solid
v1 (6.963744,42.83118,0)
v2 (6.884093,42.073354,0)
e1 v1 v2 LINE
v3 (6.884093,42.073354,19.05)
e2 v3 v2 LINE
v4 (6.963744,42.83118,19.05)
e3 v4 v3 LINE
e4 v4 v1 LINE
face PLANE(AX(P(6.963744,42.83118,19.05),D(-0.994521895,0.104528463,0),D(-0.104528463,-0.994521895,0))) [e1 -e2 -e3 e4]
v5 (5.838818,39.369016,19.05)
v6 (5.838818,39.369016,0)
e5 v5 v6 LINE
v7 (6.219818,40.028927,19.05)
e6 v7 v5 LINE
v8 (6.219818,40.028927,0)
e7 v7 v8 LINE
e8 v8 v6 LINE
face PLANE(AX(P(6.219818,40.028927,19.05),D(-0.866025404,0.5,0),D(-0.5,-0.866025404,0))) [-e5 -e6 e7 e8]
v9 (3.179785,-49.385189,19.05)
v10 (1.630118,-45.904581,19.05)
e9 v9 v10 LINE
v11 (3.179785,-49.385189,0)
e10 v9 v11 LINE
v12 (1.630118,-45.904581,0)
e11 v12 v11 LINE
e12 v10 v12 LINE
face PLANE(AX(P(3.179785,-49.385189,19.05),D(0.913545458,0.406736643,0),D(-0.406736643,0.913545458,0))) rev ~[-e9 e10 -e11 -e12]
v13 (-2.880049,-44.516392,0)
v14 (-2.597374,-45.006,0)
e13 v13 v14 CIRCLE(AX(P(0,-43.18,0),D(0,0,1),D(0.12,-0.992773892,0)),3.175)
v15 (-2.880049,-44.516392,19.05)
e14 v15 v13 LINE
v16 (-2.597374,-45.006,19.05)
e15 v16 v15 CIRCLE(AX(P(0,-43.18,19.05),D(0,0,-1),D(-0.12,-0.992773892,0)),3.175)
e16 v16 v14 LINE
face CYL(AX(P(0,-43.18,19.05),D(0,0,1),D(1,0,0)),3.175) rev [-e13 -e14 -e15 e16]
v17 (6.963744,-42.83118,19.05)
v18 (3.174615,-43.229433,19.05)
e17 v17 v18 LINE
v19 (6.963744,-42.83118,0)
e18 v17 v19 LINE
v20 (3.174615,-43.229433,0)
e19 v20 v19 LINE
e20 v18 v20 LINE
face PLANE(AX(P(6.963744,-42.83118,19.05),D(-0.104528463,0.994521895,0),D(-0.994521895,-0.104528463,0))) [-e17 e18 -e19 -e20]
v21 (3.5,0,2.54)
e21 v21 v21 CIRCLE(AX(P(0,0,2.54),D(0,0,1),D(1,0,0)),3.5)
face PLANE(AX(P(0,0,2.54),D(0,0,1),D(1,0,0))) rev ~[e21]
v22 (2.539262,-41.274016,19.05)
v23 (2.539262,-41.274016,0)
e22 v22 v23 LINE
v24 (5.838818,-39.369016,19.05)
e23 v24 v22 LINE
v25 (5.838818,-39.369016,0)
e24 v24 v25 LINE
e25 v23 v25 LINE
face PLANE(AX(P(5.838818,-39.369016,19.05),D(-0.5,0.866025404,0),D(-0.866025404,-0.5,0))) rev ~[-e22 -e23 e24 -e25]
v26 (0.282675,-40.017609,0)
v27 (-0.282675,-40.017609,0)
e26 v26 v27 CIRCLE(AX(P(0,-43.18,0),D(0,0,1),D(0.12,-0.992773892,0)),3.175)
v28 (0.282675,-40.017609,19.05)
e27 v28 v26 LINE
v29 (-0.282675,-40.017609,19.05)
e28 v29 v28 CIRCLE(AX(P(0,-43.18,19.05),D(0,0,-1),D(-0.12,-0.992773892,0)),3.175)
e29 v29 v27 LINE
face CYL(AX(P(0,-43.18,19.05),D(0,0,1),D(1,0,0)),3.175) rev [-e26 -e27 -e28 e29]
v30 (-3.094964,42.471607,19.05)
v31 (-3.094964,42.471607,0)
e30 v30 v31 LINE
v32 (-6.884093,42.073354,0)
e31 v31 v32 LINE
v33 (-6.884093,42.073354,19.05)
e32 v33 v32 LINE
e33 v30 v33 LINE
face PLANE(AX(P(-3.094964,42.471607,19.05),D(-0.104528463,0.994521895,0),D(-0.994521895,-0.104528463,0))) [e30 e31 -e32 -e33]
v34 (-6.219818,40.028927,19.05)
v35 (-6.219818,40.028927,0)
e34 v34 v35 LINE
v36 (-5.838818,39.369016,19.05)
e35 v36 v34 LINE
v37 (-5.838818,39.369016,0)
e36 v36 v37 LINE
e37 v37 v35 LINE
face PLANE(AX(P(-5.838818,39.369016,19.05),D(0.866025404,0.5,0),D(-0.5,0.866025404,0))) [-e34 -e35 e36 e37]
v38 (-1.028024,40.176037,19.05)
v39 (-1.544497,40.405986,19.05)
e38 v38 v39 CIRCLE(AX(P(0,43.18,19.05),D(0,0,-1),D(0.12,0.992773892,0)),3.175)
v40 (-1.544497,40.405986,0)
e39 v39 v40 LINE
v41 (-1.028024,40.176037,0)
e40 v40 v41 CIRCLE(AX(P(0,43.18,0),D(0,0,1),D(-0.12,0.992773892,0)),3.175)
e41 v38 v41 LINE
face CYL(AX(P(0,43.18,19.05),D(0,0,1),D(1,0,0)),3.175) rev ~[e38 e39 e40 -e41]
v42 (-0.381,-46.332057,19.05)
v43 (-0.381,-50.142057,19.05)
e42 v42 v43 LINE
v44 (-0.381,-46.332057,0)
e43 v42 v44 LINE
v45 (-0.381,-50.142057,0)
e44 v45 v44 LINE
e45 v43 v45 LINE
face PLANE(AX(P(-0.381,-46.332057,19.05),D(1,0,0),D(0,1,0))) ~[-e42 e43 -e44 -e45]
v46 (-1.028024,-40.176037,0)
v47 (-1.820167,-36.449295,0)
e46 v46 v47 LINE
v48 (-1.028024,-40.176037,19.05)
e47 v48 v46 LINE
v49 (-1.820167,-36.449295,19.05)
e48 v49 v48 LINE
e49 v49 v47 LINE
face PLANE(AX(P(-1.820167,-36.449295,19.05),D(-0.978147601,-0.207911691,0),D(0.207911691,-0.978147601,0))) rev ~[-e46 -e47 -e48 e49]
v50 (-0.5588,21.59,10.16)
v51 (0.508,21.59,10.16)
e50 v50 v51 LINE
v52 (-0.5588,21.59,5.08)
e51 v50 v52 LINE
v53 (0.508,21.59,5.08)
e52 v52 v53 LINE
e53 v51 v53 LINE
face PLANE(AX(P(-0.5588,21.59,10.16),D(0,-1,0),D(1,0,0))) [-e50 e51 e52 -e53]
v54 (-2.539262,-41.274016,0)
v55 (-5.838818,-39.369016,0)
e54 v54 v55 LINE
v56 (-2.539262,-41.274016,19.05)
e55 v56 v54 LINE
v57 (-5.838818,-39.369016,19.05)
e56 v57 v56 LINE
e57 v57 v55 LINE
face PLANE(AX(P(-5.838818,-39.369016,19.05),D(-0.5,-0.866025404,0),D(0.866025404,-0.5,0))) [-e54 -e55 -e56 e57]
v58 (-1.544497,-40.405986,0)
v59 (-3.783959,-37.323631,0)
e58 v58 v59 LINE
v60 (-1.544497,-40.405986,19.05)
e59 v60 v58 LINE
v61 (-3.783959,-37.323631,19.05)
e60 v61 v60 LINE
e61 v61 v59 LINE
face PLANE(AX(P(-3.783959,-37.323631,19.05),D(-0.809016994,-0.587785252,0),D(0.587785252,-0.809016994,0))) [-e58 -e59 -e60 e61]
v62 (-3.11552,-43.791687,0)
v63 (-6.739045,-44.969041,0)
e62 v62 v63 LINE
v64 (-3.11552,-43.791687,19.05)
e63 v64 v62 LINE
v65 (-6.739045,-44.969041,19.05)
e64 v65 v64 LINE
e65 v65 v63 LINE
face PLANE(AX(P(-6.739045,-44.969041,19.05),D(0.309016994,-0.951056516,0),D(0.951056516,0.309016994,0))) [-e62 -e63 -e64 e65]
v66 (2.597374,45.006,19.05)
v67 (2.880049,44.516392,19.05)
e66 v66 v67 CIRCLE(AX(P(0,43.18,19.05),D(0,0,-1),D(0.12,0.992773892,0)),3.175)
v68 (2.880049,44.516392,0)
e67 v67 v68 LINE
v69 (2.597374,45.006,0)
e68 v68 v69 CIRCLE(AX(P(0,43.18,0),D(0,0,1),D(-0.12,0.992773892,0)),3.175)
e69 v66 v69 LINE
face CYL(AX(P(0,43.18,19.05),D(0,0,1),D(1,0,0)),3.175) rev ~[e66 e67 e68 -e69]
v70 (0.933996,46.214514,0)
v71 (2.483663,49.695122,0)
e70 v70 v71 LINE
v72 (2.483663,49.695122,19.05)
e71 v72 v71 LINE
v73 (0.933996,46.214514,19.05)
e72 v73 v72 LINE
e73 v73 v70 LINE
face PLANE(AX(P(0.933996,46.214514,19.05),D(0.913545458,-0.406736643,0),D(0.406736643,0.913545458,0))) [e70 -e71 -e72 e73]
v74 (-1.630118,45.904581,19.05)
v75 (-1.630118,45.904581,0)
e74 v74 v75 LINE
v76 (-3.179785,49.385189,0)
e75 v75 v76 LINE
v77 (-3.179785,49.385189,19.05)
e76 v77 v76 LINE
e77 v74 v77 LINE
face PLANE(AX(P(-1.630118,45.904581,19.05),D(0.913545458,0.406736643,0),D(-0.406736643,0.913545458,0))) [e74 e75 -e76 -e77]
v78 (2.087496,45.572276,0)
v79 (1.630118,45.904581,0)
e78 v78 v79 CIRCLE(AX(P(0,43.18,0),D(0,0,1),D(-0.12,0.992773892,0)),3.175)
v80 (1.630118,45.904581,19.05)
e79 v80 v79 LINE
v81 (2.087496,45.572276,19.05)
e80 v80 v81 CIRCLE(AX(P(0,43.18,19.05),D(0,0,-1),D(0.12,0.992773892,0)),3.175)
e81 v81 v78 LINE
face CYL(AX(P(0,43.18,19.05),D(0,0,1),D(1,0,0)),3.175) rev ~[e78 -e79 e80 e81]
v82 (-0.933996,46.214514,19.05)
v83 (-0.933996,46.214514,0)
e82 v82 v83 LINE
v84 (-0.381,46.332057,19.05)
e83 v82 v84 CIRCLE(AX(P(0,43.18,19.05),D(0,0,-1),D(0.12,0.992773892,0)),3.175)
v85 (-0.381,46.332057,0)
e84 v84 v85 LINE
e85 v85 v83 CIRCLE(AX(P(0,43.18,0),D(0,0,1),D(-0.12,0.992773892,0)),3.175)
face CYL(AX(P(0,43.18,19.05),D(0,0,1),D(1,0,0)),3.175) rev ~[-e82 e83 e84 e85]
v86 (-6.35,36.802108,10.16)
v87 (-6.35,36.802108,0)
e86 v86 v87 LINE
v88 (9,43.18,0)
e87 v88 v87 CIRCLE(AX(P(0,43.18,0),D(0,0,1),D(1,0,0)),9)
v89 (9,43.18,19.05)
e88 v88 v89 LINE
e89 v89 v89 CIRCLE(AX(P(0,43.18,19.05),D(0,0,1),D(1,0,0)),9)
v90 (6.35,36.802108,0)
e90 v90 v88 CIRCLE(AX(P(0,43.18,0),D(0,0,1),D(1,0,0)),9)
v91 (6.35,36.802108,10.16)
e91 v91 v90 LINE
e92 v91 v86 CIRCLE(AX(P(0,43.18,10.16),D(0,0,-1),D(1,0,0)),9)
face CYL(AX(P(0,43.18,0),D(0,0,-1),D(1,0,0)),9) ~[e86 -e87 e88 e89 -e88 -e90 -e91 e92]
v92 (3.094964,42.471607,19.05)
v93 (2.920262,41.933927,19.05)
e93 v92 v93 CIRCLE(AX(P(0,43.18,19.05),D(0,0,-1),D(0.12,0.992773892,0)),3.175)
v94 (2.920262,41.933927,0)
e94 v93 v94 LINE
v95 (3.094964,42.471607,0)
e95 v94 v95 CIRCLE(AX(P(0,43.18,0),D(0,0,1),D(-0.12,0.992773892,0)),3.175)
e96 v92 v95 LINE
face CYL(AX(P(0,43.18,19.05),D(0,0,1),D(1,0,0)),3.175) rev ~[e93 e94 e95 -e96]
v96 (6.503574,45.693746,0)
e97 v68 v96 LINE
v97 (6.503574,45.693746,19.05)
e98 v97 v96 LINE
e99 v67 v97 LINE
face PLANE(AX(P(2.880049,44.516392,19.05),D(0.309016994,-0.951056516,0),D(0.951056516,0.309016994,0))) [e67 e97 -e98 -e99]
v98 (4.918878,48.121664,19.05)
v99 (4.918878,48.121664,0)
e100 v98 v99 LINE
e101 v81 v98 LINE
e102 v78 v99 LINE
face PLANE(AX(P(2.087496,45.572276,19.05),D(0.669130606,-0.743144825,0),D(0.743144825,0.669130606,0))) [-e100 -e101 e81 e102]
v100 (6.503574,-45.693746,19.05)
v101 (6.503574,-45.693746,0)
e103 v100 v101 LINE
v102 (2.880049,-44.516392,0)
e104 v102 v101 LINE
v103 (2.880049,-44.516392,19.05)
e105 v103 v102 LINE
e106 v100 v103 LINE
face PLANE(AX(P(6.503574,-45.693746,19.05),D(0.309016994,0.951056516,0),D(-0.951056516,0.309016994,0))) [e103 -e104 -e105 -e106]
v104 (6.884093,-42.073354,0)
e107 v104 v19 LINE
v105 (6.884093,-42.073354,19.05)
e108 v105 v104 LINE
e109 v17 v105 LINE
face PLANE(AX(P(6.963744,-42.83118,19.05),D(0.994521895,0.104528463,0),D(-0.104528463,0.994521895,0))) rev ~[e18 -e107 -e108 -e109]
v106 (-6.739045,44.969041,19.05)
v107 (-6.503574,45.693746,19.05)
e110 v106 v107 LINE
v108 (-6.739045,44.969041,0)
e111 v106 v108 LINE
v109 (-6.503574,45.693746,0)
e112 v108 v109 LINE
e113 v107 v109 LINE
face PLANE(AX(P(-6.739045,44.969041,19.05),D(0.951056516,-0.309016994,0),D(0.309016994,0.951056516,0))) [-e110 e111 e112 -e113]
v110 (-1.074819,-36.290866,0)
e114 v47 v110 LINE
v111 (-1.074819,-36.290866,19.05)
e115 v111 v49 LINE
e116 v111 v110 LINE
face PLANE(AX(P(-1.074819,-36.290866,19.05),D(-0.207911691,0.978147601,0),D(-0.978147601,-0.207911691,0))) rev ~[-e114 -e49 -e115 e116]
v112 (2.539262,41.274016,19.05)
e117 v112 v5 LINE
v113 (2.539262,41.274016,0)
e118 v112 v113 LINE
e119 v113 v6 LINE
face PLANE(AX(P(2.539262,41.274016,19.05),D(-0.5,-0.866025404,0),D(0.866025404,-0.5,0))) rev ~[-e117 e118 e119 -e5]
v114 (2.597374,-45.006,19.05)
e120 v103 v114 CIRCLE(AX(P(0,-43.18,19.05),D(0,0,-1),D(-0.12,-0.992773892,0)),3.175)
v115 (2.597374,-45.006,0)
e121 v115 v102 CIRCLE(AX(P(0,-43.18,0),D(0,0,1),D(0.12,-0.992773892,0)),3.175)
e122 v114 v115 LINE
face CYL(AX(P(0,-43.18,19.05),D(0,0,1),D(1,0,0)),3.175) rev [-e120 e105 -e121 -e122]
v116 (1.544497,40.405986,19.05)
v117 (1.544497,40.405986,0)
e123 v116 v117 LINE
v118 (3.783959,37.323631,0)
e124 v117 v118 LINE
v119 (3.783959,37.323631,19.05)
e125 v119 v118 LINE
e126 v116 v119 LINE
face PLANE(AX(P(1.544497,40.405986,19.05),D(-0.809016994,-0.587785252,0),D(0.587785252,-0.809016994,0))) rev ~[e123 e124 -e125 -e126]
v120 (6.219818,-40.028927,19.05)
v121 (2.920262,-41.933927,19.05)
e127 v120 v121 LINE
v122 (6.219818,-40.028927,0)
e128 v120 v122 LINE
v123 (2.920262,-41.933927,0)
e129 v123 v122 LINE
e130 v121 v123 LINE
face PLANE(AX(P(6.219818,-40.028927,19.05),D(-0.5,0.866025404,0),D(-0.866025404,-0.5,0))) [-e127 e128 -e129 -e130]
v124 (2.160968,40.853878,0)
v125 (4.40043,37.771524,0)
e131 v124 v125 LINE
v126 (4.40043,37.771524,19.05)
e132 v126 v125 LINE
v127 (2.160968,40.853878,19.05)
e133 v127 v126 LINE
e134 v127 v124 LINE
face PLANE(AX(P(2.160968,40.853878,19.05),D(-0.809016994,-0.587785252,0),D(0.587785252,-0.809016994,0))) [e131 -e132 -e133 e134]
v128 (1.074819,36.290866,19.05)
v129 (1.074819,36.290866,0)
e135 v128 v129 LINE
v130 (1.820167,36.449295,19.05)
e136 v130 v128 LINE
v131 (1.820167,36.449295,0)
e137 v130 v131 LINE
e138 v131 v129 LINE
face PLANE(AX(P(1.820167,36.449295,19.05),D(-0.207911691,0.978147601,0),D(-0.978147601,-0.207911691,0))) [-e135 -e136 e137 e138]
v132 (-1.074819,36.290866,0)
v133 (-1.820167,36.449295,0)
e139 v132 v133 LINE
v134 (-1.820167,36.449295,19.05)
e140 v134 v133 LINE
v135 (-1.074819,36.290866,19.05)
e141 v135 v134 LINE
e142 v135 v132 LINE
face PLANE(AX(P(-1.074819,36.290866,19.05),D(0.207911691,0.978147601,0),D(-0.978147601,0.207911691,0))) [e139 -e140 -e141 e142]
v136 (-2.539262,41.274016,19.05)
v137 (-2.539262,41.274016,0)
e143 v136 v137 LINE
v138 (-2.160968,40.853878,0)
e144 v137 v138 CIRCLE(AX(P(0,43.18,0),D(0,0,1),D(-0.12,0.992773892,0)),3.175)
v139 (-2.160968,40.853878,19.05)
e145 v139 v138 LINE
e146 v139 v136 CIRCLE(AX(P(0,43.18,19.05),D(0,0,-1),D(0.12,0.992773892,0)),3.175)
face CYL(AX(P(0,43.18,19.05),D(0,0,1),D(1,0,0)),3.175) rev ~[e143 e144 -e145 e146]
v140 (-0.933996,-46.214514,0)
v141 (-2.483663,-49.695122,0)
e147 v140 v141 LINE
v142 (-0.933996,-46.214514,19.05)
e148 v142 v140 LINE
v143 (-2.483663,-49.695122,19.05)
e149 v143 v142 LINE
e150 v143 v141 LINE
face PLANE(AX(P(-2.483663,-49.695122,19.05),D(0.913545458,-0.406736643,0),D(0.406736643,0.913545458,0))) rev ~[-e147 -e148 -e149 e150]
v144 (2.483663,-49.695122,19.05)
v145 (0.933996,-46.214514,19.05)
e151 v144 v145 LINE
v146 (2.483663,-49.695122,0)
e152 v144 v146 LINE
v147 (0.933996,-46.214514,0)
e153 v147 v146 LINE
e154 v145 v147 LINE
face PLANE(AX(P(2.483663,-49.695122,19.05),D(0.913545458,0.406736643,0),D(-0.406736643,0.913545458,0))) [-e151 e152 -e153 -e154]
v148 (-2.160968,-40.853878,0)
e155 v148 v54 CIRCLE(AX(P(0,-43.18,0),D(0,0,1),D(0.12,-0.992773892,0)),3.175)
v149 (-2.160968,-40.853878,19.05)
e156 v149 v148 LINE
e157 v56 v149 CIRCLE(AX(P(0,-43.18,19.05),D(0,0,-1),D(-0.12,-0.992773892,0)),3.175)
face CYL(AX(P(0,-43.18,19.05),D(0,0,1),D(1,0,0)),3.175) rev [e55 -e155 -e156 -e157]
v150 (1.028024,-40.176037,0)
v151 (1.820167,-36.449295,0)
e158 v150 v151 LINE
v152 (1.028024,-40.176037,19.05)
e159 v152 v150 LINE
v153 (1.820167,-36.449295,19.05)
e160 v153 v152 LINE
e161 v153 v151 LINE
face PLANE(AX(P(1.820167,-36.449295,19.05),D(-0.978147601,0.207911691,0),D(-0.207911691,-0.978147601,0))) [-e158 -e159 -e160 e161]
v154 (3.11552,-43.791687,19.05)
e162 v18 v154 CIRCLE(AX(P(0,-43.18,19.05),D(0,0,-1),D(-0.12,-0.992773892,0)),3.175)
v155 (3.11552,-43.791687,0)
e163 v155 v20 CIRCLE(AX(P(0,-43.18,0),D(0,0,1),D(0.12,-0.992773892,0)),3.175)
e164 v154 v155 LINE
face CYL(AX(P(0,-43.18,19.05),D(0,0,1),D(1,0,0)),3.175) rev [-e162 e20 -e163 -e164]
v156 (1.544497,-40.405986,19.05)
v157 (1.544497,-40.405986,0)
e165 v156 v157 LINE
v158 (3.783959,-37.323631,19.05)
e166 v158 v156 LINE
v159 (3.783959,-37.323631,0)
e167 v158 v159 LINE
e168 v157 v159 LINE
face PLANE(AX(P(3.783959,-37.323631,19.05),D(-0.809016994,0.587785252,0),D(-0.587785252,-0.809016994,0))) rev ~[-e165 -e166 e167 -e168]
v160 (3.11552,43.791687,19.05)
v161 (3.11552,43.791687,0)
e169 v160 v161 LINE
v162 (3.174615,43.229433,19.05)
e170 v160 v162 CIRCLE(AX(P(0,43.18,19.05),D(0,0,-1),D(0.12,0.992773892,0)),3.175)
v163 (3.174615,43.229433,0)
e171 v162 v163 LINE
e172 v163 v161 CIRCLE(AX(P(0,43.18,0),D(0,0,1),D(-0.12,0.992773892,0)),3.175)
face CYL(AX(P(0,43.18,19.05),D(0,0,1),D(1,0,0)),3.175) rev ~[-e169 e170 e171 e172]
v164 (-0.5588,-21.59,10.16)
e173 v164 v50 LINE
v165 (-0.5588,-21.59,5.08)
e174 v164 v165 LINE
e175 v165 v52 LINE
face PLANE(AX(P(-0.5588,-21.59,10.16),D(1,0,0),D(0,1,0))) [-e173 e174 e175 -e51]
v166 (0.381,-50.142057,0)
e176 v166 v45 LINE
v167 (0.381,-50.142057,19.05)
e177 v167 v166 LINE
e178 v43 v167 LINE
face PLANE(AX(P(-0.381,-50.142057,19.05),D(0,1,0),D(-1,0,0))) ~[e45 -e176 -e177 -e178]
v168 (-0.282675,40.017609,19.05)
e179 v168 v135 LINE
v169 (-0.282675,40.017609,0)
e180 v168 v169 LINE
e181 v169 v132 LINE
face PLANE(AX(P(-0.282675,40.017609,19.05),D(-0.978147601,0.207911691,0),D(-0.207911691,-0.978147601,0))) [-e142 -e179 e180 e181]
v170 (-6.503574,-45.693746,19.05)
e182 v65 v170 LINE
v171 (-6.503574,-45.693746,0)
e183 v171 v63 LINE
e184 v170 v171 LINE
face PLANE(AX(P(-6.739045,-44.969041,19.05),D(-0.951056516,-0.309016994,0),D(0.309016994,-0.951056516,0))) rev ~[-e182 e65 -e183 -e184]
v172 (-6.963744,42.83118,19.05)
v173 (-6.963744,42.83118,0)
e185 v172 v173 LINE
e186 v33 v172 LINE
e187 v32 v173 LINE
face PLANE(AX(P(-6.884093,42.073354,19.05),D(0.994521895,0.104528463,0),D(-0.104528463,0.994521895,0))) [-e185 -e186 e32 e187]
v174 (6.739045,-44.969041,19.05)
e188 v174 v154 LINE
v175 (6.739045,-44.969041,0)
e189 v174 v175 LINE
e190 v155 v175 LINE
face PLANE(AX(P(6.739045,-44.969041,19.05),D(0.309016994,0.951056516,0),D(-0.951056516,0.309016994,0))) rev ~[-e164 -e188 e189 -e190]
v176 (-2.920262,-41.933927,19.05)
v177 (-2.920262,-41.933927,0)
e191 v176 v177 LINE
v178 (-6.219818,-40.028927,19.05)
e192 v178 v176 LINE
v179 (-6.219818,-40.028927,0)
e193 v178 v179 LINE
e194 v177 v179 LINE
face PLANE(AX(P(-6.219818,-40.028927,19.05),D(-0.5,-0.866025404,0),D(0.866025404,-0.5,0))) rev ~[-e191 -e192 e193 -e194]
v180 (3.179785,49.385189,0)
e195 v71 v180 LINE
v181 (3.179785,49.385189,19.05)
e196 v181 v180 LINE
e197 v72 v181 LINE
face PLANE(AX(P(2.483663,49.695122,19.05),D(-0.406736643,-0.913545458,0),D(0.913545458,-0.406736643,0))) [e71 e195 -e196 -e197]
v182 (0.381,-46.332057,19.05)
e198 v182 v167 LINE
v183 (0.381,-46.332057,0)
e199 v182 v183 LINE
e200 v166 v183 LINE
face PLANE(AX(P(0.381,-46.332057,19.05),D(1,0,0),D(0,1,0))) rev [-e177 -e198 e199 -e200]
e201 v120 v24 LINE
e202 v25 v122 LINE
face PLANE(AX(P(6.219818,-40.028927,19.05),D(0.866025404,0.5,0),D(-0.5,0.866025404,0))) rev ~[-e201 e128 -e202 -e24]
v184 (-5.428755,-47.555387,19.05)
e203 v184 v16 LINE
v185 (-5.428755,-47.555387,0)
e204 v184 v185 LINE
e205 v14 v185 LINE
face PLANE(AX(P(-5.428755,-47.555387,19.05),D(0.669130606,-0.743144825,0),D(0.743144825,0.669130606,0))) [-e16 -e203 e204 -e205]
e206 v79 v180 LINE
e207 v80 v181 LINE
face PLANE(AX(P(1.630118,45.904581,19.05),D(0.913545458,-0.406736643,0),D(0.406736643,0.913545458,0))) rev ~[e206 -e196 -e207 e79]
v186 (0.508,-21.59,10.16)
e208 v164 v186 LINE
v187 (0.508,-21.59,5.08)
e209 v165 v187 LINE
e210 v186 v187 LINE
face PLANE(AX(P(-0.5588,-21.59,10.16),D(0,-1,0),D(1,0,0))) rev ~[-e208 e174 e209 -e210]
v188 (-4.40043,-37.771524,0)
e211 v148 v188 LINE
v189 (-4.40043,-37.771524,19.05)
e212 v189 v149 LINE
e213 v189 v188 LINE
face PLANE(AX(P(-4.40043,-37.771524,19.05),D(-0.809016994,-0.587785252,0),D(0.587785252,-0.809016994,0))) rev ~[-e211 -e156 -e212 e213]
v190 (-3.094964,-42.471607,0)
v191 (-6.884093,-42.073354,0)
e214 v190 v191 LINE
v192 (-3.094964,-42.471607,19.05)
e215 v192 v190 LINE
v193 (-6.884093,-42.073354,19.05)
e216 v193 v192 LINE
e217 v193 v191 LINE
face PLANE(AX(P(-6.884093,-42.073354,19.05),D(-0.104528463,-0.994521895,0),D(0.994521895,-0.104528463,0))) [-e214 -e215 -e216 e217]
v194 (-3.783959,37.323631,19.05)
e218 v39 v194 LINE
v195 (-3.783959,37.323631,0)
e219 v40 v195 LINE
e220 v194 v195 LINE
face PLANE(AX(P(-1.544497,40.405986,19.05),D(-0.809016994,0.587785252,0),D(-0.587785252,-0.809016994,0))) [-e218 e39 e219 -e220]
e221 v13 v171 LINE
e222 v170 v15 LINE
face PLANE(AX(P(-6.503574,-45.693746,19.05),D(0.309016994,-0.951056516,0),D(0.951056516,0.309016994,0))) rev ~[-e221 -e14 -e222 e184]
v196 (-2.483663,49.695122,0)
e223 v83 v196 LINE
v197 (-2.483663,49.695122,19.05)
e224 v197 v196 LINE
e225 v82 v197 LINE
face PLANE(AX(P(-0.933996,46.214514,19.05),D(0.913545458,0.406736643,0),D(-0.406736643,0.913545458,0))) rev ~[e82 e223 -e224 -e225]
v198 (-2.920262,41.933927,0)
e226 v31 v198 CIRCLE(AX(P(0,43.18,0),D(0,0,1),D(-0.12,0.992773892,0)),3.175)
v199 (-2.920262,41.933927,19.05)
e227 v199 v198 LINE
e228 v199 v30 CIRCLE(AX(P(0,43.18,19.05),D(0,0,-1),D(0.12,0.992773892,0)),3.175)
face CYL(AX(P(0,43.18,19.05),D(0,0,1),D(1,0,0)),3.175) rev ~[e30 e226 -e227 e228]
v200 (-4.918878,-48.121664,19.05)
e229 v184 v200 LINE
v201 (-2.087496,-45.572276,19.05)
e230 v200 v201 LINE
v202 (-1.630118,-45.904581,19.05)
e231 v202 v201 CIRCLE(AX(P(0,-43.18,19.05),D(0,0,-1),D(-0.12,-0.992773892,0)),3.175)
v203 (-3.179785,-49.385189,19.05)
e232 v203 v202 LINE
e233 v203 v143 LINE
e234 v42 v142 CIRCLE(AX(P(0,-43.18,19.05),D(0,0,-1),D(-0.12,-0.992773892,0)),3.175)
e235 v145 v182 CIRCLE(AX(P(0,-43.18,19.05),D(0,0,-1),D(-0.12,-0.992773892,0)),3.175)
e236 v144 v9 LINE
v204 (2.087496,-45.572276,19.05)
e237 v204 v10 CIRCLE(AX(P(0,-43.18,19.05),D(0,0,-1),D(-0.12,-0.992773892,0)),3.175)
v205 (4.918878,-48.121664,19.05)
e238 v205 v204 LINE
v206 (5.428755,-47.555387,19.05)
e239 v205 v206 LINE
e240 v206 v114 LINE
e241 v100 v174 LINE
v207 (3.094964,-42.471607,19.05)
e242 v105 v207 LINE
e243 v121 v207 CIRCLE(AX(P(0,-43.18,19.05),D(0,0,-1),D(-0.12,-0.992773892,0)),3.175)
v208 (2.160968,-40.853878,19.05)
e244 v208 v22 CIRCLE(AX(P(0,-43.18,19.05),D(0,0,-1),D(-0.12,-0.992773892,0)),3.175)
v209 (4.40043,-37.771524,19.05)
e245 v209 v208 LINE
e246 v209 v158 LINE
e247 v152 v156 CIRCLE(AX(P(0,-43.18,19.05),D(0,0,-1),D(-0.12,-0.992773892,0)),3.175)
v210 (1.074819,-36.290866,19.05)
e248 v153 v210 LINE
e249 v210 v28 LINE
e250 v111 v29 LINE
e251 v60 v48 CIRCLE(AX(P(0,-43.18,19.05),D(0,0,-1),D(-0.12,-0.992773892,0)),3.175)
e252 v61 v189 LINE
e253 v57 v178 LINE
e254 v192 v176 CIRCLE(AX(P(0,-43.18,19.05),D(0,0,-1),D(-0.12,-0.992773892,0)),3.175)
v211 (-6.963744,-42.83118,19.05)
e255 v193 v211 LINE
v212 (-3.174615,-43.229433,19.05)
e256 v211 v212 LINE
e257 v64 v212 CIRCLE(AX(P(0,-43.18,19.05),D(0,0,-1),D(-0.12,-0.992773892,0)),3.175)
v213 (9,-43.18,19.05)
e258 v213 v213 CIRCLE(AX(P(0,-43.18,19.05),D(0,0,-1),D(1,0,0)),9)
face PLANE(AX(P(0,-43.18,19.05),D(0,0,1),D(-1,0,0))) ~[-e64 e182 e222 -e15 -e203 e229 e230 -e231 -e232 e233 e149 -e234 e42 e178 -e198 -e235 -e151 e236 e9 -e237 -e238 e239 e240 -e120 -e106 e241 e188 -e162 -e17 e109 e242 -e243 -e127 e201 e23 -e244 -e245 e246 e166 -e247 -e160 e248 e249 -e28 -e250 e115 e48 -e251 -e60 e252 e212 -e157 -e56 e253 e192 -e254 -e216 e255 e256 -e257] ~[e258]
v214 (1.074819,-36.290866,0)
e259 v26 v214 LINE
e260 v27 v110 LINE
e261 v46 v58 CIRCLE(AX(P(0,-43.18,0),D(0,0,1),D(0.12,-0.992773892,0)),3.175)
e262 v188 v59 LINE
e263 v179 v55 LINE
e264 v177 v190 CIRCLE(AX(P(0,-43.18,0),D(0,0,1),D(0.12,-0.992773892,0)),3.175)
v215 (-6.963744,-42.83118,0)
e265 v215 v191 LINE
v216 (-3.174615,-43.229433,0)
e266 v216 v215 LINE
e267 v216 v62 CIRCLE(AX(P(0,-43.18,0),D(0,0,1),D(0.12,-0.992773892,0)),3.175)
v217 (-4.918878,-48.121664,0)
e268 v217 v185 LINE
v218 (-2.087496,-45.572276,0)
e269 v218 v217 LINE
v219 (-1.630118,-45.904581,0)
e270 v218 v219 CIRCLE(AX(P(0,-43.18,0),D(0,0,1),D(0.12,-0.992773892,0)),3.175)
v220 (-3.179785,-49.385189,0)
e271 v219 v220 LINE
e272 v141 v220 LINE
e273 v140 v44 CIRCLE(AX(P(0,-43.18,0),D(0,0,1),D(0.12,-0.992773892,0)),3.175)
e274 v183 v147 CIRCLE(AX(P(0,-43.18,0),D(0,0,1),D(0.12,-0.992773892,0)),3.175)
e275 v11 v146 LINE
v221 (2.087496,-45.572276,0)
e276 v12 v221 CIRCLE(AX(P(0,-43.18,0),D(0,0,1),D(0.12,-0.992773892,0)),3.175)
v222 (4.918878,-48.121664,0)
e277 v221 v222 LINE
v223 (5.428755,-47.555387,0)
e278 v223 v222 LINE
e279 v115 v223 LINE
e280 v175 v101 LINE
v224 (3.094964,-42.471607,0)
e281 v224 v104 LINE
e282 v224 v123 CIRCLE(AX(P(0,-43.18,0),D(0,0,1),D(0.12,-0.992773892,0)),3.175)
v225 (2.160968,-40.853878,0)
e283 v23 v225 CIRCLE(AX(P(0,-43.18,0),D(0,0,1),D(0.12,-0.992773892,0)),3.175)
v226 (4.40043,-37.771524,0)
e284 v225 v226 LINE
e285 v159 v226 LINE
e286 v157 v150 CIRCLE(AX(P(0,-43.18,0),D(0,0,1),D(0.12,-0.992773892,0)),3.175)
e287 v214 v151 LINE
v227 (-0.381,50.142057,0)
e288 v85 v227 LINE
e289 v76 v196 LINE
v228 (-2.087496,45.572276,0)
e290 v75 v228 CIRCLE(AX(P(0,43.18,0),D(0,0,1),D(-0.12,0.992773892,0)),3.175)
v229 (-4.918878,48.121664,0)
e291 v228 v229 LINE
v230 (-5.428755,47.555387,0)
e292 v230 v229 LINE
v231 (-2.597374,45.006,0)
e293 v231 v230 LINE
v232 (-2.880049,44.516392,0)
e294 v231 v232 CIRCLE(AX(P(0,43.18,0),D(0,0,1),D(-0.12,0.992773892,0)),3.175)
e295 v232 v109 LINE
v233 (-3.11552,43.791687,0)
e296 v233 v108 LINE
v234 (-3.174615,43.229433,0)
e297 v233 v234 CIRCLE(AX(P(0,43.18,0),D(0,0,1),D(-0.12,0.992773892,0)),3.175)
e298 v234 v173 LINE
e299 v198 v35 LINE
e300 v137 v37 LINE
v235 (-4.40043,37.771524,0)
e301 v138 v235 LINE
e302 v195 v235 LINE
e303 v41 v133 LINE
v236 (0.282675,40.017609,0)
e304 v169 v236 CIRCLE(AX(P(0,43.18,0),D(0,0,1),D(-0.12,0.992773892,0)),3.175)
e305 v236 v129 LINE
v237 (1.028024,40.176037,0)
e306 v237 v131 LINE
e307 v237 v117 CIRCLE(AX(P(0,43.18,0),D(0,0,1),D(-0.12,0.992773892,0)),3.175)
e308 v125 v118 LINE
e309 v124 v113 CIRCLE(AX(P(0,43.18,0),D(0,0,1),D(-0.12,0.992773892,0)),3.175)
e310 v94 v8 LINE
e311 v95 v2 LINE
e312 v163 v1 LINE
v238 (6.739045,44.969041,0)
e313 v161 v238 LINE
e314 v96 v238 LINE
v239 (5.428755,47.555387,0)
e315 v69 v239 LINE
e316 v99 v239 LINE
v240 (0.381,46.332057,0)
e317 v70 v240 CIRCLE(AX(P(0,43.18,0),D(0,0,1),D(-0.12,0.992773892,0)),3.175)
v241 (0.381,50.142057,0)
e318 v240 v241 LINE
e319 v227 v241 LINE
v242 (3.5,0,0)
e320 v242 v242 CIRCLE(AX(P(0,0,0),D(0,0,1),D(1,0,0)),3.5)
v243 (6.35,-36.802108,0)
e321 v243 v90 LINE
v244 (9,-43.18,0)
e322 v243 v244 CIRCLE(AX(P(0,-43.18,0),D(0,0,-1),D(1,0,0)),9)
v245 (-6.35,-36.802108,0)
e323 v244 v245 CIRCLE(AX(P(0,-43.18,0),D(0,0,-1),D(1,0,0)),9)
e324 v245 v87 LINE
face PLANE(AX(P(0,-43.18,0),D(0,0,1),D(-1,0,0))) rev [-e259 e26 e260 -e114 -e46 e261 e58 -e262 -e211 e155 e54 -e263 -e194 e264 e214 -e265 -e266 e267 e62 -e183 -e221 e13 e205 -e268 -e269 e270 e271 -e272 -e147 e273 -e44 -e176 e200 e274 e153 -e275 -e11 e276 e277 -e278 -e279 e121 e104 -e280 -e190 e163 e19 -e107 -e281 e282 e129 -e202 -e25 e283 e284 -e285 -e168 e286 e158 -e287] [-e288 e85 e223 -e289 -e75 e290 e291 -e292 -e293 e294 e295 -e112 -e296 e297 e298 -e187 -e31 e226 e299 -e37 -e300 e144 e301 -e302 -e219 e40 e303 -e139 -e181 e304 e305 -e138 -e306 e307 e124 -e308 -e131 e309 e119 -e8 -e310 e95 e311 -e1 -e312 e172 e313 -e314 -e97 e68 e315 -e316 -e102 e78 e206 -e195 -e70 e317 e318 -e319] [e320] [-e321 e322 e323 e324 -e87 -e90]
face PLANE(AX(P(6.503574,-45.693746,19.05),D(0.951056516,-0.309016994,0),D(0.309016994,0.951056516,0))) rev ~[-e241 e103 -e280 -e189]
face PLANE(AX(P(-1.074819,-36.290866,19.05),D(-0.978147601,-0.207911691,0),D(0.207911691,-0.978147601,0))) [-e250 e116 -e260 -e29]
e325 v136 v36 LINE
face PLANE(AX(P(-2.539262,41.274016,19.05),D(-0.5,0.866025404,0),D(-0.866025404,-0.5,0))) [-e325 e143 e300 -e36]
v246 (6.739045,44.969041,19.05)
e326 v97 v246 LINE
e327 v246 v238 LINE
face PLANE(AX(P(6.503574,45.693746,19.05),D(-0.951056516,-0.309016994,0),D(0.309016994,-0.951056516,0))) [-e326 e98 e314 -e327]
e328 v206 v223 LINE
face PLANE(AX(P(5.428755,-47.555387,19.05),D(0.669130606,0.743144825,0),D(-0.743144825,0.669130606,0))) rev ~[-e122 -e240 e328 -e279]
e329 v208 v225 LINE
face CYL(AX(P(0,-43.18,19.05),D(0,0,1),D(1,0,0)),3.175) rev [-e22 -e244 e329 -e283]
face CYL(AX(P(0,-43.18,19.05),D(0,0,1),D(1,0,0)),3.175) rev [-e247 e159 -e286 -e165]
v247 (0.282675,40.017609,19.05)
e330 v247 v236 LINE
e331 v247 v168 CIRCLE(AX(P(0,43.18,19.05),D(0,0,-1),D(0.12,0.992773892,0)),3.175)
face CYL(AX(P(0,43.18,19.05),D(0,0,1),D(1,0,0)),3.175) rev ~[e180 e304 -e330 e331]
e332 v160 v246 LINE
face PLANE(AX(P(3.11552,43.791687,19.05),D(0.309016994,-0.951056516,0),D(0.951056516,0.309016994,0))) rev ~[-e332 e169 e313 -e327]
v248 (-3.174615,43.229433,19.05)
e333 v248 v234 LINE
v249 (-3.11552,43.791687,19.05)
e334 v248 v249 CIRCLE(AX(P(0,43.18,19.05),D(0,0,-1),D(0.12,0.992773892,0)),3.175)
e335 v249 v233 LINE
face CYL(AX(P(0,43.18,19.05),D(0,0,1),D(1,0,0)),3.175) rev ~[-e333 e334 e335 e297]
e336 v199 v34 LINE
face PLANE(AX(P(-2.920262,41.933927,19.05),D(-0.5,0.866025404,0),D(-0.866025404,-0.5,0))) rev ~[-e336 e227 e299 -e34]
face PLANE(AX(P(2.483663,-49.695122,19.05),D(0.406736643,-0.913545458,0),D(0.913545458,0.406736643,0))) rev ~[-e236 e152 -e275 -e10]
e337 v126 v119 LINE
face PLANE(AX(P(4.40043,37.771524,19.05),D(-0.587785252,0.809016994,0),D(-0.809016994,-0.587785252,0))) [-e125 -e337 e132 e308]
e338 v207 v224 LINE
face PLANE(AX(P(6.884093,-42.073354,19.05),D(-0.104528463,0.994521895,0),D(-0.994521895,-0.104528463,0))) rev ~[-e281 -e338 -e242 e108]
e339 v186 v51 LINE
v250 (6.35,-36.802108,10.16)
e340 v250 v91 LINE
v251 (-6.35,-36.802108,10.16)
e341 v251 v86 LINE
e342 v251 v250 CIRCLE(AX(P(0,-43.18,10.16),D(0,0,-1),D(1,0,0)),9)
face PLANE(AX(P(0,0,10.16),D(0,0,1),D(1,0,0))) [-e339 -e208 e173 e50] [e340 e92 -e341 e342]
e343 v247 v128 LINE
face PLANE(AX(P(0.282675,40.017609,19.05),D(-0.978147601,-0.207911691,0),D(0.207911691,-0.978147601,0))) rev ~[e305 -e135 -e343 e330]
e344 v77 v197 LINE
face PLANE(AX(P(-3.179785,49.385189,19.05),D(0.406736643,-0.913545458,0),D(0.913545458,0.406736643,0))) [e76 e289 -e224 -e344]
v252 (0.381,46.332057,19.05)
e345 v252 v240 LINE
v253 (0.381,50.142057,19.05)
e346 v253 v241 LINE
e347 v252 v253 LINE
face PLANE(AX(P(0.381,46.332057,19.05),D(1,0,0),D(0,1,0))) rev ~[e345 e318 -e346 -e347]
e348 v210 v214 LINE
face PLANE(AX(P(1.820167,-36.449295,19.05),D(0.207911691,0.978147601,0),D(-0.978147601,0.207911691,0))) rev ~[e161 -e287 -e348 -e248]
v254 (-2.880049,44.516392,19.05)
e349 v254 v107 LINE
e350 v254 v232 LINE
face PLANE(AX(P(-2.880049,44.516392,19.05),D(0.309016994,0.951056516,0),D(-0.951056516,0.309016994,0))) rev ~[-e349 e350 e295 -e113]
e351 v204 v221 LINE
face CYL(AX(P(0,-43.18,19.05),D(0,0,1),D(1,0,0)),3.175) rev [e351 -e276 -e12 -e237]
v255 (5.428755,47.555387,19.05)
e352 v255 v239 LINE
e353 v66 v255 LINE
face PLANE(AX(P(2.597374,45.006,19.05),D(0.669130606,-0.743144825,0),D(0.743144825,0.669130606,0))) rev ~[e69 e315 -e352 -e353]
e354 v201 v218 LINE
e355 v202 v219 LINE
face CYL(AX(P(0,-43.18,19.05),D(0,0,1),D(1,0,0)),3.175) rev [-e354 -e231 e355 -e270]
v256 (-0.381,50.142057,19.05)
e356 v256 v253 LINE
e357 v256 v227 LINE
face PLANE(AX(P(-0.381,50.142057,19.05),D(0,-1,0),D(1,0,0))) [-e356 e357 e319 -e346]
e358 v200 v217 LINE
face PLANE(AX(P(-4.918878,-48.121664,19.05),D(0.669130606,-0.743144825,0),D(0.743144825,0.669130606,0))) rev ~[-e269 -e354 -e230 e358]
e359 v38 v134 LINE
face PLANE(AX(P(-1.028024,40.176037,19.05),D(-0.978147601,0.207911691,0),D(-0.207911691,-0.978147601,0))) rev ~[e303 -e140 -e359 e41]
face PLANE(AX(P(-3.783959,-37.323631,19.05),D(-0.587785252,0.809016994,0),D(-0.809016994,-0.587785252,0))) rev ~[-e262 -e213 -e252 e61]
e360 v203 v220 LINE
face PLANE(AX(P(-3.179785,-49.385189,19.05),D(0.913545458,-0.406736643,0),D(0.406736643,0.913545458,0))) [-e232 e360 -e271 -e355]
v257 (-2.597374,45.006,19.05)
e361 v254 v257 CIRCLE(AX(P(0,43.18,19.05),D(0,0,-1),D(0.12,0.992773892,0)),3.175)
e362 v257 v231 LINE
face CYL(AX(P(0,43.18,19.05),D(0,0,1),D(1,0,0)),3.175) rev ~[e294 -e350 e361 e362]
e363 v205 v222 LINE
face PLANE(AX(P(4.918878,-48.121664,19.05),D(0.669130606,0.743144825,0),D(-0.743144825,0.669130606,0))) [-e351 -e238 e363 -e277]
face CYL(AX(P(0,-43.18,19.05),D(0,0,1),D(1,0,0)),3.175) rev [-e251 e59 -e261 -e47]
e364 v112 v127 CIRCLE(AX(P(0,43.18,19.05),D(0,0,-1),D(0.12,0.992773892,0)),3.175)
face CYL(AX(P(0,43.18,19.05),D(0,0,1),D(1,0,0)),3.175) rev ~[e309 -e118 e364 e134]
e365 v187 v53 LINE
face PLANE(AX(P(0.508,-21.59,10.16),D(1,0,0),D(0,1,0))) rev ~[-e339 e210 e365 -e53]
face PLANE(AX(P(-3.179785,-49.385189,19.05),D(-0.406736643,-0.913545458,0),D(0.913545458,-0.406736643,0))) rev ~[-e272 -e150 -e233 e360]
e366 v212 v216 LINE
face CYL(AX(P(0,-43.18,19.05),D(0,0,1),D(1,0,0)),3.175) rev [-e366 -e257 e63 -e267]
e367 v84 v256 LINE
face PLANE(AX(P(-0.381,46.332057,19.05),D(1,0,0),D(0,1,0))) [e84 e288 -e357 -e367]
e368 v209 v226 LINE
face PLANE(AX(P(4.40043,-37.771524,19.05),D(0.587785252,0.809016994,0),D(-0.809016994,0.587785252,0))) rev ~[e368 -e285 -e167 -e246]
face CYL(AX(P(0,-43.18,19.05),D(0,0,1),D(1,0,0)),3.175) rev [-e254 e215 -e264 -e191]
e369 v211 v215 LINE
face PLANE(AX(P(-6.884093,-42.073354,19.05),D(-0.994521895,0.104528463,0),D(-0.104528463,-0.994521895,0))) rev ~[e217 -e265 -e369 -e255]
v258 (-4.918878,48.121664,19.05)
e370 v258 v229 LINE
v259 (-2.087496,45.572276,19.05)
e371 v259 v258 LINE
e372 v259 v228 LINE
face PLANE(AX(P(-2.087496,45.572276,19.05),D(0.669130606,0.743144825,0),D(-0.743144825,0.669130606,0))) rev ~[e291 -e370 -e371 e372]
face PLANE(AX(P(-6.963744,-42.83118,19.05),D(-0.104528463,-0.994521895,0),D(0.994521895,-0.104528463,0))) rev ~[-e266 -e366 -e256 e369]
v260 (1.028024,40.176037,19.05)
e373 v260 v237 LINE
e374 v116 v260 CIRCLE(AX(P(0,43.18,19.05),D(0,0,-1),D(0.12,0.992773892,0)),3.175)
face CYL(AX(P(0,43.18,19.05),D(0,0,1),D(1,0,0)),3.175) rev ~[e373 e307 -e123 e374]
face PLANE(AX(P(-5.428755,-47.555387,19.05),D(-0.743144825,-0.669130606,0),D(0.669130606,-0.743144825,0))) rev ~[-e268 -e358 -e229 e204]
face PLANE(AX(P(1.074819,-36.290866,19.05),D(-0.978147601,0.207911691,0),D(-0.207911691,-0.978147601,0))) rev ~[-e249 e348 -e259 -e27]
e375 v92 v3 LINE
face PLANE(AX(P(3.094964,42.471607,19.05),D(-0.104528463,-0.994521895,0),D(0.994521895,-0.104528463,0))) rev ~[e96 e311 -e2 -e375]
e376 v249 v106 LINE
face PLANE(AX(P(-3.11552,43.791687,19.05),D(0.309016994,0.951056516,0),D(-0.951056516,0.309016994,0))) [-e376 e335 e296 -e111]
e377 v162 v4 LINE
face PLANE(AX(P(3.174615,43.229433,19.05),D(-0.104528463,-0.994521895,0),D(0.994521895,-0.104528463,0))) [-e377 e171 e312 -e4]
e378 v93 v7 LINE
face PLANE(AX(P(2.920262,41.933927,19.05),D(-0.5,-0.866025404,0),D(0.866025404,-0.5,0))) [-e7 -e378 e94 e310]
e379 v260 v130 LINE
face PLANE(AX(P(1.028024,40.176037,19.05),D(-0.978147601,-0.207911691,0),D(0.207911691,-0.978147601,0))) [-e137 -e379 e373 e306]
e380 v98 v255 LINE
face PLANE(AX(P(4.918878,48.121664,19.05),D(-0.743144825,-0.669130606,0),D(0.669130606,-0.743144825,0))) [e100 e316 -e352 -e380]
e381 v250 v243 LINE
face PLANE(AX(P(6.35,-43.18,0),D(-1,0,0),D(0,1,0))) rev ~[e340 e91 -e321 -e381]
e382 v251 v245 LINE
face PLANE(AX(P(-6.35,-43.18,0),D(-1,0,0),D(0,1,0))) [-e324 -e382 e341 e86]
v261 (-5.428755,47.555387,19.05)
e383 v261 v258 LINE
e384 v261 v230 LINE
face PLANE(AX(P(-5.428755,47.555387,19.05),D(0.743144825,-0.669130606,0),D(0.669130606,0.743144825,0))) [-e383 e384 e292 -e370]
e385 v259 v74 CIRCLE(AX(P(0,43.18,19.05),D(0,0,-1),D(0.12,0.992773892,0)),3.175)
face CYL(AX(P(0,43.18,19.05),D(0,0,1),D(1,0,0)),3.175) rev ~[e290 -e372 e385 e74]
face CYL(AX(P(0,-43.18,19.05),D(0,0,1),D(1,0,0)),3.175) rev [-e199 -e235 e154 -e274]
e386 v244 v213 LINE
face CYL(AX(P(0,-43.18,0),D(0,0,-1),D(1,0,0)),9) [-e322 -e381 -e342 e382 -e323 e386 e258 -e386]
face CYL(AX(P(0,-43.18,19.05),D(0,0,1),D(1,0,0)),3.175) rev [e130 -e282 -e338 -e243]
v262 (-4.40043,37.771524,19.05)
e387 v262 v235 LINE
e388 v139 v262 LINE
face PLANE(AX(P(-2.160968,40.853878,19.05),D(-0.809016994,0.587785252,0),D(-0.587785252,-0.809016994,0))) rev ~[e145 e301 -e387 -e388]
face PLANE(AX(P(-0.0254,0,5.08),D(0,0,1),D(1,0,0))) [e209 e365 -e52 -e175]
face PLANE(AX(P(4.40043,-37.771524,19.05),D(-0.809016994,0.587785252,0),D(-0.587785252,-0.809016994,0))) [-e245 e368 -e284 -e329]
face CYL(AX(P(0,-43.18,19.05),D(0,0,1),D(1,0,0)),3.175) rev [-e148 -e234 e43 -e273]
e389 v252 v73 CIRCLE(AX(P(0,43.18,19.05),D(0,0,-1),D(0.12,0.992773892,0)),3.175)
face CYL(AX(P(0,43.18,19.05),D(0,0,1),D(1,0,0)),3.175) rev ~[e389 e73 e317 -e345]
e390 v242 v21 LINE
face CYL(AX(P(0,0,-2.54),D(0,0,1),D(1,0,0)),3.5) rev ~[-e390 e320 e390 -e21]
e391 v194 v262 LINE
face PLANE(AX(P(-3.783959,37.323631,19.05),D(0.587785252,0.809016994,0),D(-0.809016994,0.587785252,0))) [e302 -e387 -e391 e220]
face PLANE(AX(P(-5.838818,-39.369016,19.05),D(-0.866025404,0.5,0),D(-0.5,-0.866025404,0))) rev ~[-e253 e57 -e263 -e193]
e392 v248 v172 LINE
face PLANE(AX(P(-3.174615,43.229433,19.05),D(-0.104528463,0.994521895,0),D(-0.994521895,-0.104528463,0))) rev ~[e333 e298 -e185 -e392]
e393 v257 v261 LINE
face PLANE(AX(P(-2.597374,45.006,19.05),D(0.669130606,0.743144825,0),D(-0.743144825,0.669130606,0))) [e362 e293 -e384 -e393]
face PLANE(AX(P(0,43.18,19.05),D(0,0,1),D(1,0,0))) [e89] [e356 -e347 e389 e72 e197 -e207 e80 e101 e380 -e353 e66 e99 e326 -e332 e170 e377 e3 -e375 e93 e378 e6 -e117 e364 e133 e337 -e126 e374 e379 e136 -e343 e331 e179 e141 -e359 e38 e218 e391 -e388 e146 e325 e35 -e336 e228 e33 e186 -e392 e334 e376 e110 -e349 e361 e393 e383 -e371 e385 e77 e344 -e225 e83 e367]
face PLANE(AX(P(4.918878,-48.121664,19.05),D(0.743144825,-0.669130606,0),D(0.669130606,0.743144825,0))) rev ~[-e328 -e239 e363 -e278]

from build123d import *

# Parameters (mm, degrees)
SKETCH1_W                = 12.7
SKETCH1_H                = 86.36
BOSS_EXTRUDE1_DEPTH      = 10.16
SKETCH2_W                = 1.0668
SKETCH2_H                = 43.18
CUT_EXTRUDE1_DEPTH       = 5.08
BOSS_EXTRUDE3_START      = -10.16
SKETCH12_R               = 9
BOSS_EXTRUDE3_DEPTH      = 19.05
SKETCH13_R               = 3.175
CUT_EXTRUDE3_DEPTH       = 57.273038837
SKETCH15_W               = 0.762
SKETCH15_H               = 3.81
CUT_EXTRUDE4_DEPTH       = 57.273038837
CIRPATTERN1_COUNT        = 15
MIRROR2_COPY_1_SKETCH_W  = 0.762
MIRROR2_COPY_1_SKETCH_H  = 3.81
MIRROR2_COPY_1_DEPTH     = 57.273038837
MIRROR2_COPY_2_SKETCH_W  = 0.762
MIRROR2_COPY_2_SKETCH_H  = 3.81
MIRROR2_COPY_2_DEPTH     = 57.273038837
MIRROR2_COPY_3_SKETCH_W  = 0.762
MIRROR2_COPY_3_SKETCH_H  = 3.81
MIRROR2_COPY_3_DEPTH     = 57.273038837
MIRROR2_COPY_4_SKETCH_W  = 0.762
MIRROR2_COPY_4_SKETCH_H  = 3.81
MIRROR2_COPY_4_DEPTH     = 57.273038837
MIRROR2_COPY_5_SKETCH_W  = 0.762
MIRROR2_COPY_5_SKETCH_H  = 3.81
MIRROR2_COPY_5_DEPTH     = 57.273038837
MIRROR2_COPY_6_SKETCH_W  = 0.762
MIRROR2_COPY_6_SKETCH_H  = 3.81
MIRROR2_COPY_6_DEPTH     = 57.273038837
MIRROR2_COPY_7_SKETCH_W  = 0.762
MIRROR2_COPY_7_SKETCH_H  = 3.81
MIRROR2_COPY_7_DEPTH     = 57.273038837
MIRROR2_COPY_8_SKETCH_W  = 0.762
MIRROR2_COPY_8_SKETCH_H  = 3.81
MIRROR2_COPY_8_DEPTH     = 57.273038837
MIRROR2_COPY_9_SKETCH_W  = 0.762
MIRROR2_COPY_9_SKETCH_H  = 3.81
MIRROR2_COPY_9_DEPTH     = 57.273038837
MIRROR2_COPY_10_SKETCH_W = 0.762
MIRROR2_COPY_10_SKETCH_H = 3.81
MIRROR2_COPY_10_DEPTH    = 57.273038837
MIRROR2_COPY_11_SKETCH_W = 0.762
MIRROR2_COPY_11_SKETCH_H = 3.81
MIRROR2_COPY_11_DEPTH    = 57.273038837
MIRROR2_COPY_12_SKETCH_W = 0.762
MIRROR2_COPY_12_SKETCH_H = 3.81
MIRROR2_COPY_12_DEPTH    = 57.273038837
MIRROR2_COPY_13_SKETCH_W = 0.762
MIRROR2_COPY_13_SKETCH_H = 3.81
MIRROR2_COPY_13_DEPTH    = 57.273038837
MIRROR2_COPY_14_SKETCH_W = 0.762
MIRROR2_COPY_14_SKETCH_H = 3.81
MIRROR2_COPY_14_DEPTH    = 57.273038837
M6_CLEARANCE_HOLE1_D     = 7
M6_CLEARANCE_HOLE1_DEPTH = 2.54


with BuildPart() as part:
    # Sketch1 → Boss-Extrude1 (new body)
    with BuildSketch(Plane.XY):
        Rectangle(SKETCH1_W, SKETCH1_H)
    extrude(amount=BOSS_EXTRUDE1_DEPTH)

    # Sketch2 → Cut-Extrude1 (cut)
    with BuildSketch(Plane.XY.offset(10.16)):
        with Locations((-0.0254, 0)):
            Rectangle(SKETCH2_W, SKETCH2_H)
    extrude(amount=-CUT_EXTRUDE1_DEPTH, mode=Mode.SUBTRACT)

    # Sketch12 → Boss-Extrude3 (add)
    with BuildSketch(Plane.XY.offset(10.16).offset(BOSS_EXTRUDE3_START)):
        with Locations((0, 43.18)):
            Circle(SKETCH12_R)
    boss_extrude3 = extrude(amount=BOSS_EXTRUDE3_DEPTH)

    # Sketch13 → Cut-Extrude3 (cut, through all)
    with BuildSketch(Plane.XY.offset(19.05)):
        with Locations((0, 43.18)):
            Circle(SKETCH13_R)
    cut_extrude3 = extrude(amount=-CUT_EXTRUDE3_DEPTH, mode=Mode.SUBTRACT)

    # Sketch15 → Cut-Extrude4 (cut, through all)
    with BuildSketch(Plane.XY.offset(19.05)):
        with Locations((0, 48.237057106)):
            Rectangle(SKETCH15_W, SKETCH15_H)
    cut_extrude4 = extrude(amount=-CUT_EXTRUDE4_DEPTH, mode=Mode.SUBTRACT)

    # CirPattern1: Cut-Extrude4 ×15 about axis
    cirpattern1_axis = Axis((0, 43.18, 0), (0, 0, 1))
    for i in range(1, CIRPATTERN1_COUNT):
        add(cut_extrude4.rotate(cirpattern1_axis, i * 360 / CIRPATTERN1_COUNT), mode=Mode.SUBTRACT)

    # Mirror2: Boss-Extrude3, Cut-Extrude3, Cut-Extrude4 across plane
    add(boss_extrude3.mirror(Plane.ZX))
    add(cut_extrude3.mirror(Plane.ZX), mode=Mode.SUBTRACT)
    add(cut_extrude4.mirror(Plane.ZX), mode=Mode.SUBTRACT)

    # Mirror2 copy 1 sketch → Mirror2 copy 1 (cut, through all)
    with BuildSketch(Plane(origin=(17.562888248, -3.733107139, 19.05), x_dir=(0.9135454576426009, -0.4067366430758002, 0), z_dir=(0, 0, 1))):
        with Locations((0, -48.237057106)):
            Rectangle(MIRROR2_COPY_1_SKETCH_W, MIRROR2_COPY_1_SKETCH_H)
    extrude(amount=-MIRROR2_COPY_1_DEPTH, mode=Mode.SUBTRACT)

    # Mirror2 copy 2 sketch → Mirror2 copy 2 (cut, through all)
    with BuildSketch(Plane(origin=(32.088993564, -14.286940417, 19.05), x_dir=(0.6691306063588582, -0.7431448254773942, 0), z_dir=(0, 0, 1))):
        with Locations((0, -48.237057106)):
            Rectangle(MIRROR2_COPY_2_SKETCH_W, MIRROR2_COPY_2_SKETCH_H)
    extrude(amount=-MIRROR2_COPY_2_DEPTH, mode=Mode.SUBTRACT)

    # Mirror2 copy 3 sketch → Mirror2 copy 3 (cut, through all)
    with BuildSketch(Plane(origin=(41.066620374, -29.836646183, 19.05), x_dir=(0.30901699437494745, -0.9510565162951535, 0), z_dir=(0, 0, 1))):
        with Locations((0, -48.237057106)):
            Rectangle(MIRROR2_COPY_3_SKETCH_W, MIRROR2_COPY_3_SKETCH_H)
    extrude(amount=-MIRROR2_COPY_3_DEPTH, mode=Mode.SUBTRACT)

    # Mirror2 copy 4 sketch → Mirror2 copy 4 (cut, through all)
    with BuildSketch(Plane(origin=(42.943455442, -47.693539044, 19.05), x_dir=(-0.10452846326765355, -0.9945218953682733, 0), z_dir=(0, 0, 1))):
        with Locations((0, -48.237057106)):
            Rectangle(MIRROR2_COPY_4_SKETCH_W, MIRROR2_COPY_4_SKETCH_H)
    extrude(amount=-MIRROR2_COPY_4_DEPTH, mode=Mode.SUBTRACT)

    # Mirror2 copy 5 sketch → Mirror2 copy 5 (cut, through all)
    with BuildSketch(Plane(origin=(37.394976935, -64.77, 19.05), x_dir=(-0.4999999999999998, -0.8660254037844387, 0), z_dir=(0, 0, 1))):
        with Locations((0, -48.237057106)):
            Rectangle(MIRROR2_COPY_5_SKETCH_W, MIRROR2_COPY_5_SKETCH_H)
    extrude(amount=-MIRROR2_COPY_5_DEPTH, mode=Mode.SUBTRACT)

    # Mirror2 copy 6 sketch → Mirror2 copy 6 (cut, through all)
    with BuildSketch(Plane(origin=(25.380567194, -78.113353817, 19.05), x_dir=(-0.8090169943749473, -0.5877852522924732, 0), z_dir=(0, 0, 1))):
        with Locations((0, -48.237057106)):
            Rectangle(MIRROR2_COPY_6_SKETCH_W, MIRROR2_COPY_6_SKETCH_H)
    extrude(amount=-MIRROR2_COPY_6_DEPTH, mode=Mode.SUBTRACT)

    # Mirror2 copy 7 sketch → Mirror2 copy 7 (cut, through all)
    with BuildSketch(Plane(origin=(8.97762681, -85.4164134, 19.05), x_dir=(-0.9781476007338057, -0.20791169081775931, 0), z_dir=(0, 0, 1))):
        with Locations((0, -48.237057106)):
            Rectangle(MIRROR2_COPY_7_SKETCH_W, MIRROR2_COPY_7_SKETCH_H)
    extrude(amount=-MIRROR2_COPY_7_DEPTH, mode=Mode.SUBTRACT)

    # Mirror2 copy 8 sketch → Mirror2 copy 8 (cut, through all)
    with BuildSketch(Plane(origin=(-8.97762681, -85.4164134, 19.05), x_dir=(-0.9781476007338056, 0.2079116908177595, 0), z_dir=(0, 0, 1))):
        with Locations((0, -48.237057106)):
            Rectangle(MIRROR2_COPY_8_SKETCH_W, MIRROR2_COPY_8_SKETCH_H)
    extrude(amount=-MIRROR2_COPY_8_DEPTH, mode=Mode.SUBTRACT)

    # Mirror2 copy 9 sketch → Mirror2 copy 9 (cut, through all)
    with BuildSketch(Plane(origin=(-25.380567194, -78.113353817, 19.05), x_dir=(-0.8090169943749476, 0.587785252292473, 0), z_dir=(0, 0, 1))):
        with Locations((0, -48.237057106)):
            Rectangle(MIRROR2_COPY_9_SKETCH_W, MIRROR2_COPY_9_SKETCH_H)
    extrude(amount=-MIRROR2_COPY_9_DEPTH, mode=Mode.SUBTRACT)

    # Mirror2 copy 10 sketch → Mirror2 copy 10 (cut, through all)
    with BuildSketch(Plane(origin=(-37.394976935, -64.77, 19.05), x_dir=(-0.5000000000000004, 0.8660254037844384, 0), z_dir=(0, 0, 1))):
        with Locations((0, -48.237057106)):
            Rectangle(MIRROR2_COPY_10_SKETCH_W, MIRROR2_COPY_10_SKETCH_H)
    extrude(amount=-MIRROR2_COPY_10_DEPTH, mode=Mode.SUBTRACT)

    # Mirror2 copy 11 sketch → Mirror2 copy 11 (cut, through all)
    with BuildSketch(Plane(origin=(-42.943455442, -47.693539044, 19.05), x_dir=(-0.10452846326765336, 0.9945218953682734, 0), z_dir=(0, 0, 1))):
        with Locations((0, -48.237057106)):
            Rectangle(MIRROR2_COPY_11_SKETCH_W, MIRROR2_COPY_11_SKETCH_H)
    extrude(amount=-MIRROR2_COPY_11_DEPTH, mode=Mode.SUBTRACT)

    # Mirror2 copy 12 sketch → Mirror2 copy 12 (cut, through all)
    with BuildSketch(Plane(origin=(-41.066620374, -29.836646183, 19.05), x_dir=(0.30901699437494723, 0.9510565162951536, 0), z_dir=(0, 0, 1))):
        with Locations((0, -48.237057106)):
            Rectangle(MIRROR2_COPY_12_SKETCH_W, MIRROR2_COPY_12_SKETCH_H)
    extrude(amount=-MIRROR2_COPY_12_DEPTH, mode=Mode.SUBTRACT)

    # Mirror2 copy 13 sketch → Mirror2 copy 13 (cut, through all)
    with BuildSketch(Plane(origin=(-32.088993564, -14.286940417, 19.05), x_dir=(0.6691306063588578, 0.7431448254773946, 0), z_dir=(0, 0, 1))):
        with Locations((0, -48.237057106)):
            Rectangle(MIRROR2_COPY_13_SKETCH_W, MIRROR2_COPY_13_SKETCH_H)
    extrude(amount=-MIRROR2_COPY_13_DEPTH, mode=Mode.SUBTRACT)

    # Mirror2 copy 14 sketch → Mirror2 copy 14 (cut, through all)
    with BuildSketch(Plane(origin=(-17.562888248, -3.733107139, 19.05), x_dir=(0.913545457642601, 0.40673664307580015, 0), z_dir=(0, 0, 1))):
        with Locations((0, -48.237057106)):
            Rectangle(MIRROR2_COPY_14_SKETCH_W, MIRROR2_COPY_14_SKETCH_H)
    extrude(amount=-MIRROR2_COPY_14_DEPTH, mode=Mode.SUBTRACT)

    # M6 Clearance Hole1
    with Locations(Plane(origin=(0, 0, 0), x_dir=(-1, 0, 0), z_dir=(0, 0, -1))):
        with Locations((0, 0)):
            Hole(M6_CLEARANCE_HOLE1_D / 2, depth=M6_CLEARANCE_HOLE1_DEPTH)


solid = part.part
